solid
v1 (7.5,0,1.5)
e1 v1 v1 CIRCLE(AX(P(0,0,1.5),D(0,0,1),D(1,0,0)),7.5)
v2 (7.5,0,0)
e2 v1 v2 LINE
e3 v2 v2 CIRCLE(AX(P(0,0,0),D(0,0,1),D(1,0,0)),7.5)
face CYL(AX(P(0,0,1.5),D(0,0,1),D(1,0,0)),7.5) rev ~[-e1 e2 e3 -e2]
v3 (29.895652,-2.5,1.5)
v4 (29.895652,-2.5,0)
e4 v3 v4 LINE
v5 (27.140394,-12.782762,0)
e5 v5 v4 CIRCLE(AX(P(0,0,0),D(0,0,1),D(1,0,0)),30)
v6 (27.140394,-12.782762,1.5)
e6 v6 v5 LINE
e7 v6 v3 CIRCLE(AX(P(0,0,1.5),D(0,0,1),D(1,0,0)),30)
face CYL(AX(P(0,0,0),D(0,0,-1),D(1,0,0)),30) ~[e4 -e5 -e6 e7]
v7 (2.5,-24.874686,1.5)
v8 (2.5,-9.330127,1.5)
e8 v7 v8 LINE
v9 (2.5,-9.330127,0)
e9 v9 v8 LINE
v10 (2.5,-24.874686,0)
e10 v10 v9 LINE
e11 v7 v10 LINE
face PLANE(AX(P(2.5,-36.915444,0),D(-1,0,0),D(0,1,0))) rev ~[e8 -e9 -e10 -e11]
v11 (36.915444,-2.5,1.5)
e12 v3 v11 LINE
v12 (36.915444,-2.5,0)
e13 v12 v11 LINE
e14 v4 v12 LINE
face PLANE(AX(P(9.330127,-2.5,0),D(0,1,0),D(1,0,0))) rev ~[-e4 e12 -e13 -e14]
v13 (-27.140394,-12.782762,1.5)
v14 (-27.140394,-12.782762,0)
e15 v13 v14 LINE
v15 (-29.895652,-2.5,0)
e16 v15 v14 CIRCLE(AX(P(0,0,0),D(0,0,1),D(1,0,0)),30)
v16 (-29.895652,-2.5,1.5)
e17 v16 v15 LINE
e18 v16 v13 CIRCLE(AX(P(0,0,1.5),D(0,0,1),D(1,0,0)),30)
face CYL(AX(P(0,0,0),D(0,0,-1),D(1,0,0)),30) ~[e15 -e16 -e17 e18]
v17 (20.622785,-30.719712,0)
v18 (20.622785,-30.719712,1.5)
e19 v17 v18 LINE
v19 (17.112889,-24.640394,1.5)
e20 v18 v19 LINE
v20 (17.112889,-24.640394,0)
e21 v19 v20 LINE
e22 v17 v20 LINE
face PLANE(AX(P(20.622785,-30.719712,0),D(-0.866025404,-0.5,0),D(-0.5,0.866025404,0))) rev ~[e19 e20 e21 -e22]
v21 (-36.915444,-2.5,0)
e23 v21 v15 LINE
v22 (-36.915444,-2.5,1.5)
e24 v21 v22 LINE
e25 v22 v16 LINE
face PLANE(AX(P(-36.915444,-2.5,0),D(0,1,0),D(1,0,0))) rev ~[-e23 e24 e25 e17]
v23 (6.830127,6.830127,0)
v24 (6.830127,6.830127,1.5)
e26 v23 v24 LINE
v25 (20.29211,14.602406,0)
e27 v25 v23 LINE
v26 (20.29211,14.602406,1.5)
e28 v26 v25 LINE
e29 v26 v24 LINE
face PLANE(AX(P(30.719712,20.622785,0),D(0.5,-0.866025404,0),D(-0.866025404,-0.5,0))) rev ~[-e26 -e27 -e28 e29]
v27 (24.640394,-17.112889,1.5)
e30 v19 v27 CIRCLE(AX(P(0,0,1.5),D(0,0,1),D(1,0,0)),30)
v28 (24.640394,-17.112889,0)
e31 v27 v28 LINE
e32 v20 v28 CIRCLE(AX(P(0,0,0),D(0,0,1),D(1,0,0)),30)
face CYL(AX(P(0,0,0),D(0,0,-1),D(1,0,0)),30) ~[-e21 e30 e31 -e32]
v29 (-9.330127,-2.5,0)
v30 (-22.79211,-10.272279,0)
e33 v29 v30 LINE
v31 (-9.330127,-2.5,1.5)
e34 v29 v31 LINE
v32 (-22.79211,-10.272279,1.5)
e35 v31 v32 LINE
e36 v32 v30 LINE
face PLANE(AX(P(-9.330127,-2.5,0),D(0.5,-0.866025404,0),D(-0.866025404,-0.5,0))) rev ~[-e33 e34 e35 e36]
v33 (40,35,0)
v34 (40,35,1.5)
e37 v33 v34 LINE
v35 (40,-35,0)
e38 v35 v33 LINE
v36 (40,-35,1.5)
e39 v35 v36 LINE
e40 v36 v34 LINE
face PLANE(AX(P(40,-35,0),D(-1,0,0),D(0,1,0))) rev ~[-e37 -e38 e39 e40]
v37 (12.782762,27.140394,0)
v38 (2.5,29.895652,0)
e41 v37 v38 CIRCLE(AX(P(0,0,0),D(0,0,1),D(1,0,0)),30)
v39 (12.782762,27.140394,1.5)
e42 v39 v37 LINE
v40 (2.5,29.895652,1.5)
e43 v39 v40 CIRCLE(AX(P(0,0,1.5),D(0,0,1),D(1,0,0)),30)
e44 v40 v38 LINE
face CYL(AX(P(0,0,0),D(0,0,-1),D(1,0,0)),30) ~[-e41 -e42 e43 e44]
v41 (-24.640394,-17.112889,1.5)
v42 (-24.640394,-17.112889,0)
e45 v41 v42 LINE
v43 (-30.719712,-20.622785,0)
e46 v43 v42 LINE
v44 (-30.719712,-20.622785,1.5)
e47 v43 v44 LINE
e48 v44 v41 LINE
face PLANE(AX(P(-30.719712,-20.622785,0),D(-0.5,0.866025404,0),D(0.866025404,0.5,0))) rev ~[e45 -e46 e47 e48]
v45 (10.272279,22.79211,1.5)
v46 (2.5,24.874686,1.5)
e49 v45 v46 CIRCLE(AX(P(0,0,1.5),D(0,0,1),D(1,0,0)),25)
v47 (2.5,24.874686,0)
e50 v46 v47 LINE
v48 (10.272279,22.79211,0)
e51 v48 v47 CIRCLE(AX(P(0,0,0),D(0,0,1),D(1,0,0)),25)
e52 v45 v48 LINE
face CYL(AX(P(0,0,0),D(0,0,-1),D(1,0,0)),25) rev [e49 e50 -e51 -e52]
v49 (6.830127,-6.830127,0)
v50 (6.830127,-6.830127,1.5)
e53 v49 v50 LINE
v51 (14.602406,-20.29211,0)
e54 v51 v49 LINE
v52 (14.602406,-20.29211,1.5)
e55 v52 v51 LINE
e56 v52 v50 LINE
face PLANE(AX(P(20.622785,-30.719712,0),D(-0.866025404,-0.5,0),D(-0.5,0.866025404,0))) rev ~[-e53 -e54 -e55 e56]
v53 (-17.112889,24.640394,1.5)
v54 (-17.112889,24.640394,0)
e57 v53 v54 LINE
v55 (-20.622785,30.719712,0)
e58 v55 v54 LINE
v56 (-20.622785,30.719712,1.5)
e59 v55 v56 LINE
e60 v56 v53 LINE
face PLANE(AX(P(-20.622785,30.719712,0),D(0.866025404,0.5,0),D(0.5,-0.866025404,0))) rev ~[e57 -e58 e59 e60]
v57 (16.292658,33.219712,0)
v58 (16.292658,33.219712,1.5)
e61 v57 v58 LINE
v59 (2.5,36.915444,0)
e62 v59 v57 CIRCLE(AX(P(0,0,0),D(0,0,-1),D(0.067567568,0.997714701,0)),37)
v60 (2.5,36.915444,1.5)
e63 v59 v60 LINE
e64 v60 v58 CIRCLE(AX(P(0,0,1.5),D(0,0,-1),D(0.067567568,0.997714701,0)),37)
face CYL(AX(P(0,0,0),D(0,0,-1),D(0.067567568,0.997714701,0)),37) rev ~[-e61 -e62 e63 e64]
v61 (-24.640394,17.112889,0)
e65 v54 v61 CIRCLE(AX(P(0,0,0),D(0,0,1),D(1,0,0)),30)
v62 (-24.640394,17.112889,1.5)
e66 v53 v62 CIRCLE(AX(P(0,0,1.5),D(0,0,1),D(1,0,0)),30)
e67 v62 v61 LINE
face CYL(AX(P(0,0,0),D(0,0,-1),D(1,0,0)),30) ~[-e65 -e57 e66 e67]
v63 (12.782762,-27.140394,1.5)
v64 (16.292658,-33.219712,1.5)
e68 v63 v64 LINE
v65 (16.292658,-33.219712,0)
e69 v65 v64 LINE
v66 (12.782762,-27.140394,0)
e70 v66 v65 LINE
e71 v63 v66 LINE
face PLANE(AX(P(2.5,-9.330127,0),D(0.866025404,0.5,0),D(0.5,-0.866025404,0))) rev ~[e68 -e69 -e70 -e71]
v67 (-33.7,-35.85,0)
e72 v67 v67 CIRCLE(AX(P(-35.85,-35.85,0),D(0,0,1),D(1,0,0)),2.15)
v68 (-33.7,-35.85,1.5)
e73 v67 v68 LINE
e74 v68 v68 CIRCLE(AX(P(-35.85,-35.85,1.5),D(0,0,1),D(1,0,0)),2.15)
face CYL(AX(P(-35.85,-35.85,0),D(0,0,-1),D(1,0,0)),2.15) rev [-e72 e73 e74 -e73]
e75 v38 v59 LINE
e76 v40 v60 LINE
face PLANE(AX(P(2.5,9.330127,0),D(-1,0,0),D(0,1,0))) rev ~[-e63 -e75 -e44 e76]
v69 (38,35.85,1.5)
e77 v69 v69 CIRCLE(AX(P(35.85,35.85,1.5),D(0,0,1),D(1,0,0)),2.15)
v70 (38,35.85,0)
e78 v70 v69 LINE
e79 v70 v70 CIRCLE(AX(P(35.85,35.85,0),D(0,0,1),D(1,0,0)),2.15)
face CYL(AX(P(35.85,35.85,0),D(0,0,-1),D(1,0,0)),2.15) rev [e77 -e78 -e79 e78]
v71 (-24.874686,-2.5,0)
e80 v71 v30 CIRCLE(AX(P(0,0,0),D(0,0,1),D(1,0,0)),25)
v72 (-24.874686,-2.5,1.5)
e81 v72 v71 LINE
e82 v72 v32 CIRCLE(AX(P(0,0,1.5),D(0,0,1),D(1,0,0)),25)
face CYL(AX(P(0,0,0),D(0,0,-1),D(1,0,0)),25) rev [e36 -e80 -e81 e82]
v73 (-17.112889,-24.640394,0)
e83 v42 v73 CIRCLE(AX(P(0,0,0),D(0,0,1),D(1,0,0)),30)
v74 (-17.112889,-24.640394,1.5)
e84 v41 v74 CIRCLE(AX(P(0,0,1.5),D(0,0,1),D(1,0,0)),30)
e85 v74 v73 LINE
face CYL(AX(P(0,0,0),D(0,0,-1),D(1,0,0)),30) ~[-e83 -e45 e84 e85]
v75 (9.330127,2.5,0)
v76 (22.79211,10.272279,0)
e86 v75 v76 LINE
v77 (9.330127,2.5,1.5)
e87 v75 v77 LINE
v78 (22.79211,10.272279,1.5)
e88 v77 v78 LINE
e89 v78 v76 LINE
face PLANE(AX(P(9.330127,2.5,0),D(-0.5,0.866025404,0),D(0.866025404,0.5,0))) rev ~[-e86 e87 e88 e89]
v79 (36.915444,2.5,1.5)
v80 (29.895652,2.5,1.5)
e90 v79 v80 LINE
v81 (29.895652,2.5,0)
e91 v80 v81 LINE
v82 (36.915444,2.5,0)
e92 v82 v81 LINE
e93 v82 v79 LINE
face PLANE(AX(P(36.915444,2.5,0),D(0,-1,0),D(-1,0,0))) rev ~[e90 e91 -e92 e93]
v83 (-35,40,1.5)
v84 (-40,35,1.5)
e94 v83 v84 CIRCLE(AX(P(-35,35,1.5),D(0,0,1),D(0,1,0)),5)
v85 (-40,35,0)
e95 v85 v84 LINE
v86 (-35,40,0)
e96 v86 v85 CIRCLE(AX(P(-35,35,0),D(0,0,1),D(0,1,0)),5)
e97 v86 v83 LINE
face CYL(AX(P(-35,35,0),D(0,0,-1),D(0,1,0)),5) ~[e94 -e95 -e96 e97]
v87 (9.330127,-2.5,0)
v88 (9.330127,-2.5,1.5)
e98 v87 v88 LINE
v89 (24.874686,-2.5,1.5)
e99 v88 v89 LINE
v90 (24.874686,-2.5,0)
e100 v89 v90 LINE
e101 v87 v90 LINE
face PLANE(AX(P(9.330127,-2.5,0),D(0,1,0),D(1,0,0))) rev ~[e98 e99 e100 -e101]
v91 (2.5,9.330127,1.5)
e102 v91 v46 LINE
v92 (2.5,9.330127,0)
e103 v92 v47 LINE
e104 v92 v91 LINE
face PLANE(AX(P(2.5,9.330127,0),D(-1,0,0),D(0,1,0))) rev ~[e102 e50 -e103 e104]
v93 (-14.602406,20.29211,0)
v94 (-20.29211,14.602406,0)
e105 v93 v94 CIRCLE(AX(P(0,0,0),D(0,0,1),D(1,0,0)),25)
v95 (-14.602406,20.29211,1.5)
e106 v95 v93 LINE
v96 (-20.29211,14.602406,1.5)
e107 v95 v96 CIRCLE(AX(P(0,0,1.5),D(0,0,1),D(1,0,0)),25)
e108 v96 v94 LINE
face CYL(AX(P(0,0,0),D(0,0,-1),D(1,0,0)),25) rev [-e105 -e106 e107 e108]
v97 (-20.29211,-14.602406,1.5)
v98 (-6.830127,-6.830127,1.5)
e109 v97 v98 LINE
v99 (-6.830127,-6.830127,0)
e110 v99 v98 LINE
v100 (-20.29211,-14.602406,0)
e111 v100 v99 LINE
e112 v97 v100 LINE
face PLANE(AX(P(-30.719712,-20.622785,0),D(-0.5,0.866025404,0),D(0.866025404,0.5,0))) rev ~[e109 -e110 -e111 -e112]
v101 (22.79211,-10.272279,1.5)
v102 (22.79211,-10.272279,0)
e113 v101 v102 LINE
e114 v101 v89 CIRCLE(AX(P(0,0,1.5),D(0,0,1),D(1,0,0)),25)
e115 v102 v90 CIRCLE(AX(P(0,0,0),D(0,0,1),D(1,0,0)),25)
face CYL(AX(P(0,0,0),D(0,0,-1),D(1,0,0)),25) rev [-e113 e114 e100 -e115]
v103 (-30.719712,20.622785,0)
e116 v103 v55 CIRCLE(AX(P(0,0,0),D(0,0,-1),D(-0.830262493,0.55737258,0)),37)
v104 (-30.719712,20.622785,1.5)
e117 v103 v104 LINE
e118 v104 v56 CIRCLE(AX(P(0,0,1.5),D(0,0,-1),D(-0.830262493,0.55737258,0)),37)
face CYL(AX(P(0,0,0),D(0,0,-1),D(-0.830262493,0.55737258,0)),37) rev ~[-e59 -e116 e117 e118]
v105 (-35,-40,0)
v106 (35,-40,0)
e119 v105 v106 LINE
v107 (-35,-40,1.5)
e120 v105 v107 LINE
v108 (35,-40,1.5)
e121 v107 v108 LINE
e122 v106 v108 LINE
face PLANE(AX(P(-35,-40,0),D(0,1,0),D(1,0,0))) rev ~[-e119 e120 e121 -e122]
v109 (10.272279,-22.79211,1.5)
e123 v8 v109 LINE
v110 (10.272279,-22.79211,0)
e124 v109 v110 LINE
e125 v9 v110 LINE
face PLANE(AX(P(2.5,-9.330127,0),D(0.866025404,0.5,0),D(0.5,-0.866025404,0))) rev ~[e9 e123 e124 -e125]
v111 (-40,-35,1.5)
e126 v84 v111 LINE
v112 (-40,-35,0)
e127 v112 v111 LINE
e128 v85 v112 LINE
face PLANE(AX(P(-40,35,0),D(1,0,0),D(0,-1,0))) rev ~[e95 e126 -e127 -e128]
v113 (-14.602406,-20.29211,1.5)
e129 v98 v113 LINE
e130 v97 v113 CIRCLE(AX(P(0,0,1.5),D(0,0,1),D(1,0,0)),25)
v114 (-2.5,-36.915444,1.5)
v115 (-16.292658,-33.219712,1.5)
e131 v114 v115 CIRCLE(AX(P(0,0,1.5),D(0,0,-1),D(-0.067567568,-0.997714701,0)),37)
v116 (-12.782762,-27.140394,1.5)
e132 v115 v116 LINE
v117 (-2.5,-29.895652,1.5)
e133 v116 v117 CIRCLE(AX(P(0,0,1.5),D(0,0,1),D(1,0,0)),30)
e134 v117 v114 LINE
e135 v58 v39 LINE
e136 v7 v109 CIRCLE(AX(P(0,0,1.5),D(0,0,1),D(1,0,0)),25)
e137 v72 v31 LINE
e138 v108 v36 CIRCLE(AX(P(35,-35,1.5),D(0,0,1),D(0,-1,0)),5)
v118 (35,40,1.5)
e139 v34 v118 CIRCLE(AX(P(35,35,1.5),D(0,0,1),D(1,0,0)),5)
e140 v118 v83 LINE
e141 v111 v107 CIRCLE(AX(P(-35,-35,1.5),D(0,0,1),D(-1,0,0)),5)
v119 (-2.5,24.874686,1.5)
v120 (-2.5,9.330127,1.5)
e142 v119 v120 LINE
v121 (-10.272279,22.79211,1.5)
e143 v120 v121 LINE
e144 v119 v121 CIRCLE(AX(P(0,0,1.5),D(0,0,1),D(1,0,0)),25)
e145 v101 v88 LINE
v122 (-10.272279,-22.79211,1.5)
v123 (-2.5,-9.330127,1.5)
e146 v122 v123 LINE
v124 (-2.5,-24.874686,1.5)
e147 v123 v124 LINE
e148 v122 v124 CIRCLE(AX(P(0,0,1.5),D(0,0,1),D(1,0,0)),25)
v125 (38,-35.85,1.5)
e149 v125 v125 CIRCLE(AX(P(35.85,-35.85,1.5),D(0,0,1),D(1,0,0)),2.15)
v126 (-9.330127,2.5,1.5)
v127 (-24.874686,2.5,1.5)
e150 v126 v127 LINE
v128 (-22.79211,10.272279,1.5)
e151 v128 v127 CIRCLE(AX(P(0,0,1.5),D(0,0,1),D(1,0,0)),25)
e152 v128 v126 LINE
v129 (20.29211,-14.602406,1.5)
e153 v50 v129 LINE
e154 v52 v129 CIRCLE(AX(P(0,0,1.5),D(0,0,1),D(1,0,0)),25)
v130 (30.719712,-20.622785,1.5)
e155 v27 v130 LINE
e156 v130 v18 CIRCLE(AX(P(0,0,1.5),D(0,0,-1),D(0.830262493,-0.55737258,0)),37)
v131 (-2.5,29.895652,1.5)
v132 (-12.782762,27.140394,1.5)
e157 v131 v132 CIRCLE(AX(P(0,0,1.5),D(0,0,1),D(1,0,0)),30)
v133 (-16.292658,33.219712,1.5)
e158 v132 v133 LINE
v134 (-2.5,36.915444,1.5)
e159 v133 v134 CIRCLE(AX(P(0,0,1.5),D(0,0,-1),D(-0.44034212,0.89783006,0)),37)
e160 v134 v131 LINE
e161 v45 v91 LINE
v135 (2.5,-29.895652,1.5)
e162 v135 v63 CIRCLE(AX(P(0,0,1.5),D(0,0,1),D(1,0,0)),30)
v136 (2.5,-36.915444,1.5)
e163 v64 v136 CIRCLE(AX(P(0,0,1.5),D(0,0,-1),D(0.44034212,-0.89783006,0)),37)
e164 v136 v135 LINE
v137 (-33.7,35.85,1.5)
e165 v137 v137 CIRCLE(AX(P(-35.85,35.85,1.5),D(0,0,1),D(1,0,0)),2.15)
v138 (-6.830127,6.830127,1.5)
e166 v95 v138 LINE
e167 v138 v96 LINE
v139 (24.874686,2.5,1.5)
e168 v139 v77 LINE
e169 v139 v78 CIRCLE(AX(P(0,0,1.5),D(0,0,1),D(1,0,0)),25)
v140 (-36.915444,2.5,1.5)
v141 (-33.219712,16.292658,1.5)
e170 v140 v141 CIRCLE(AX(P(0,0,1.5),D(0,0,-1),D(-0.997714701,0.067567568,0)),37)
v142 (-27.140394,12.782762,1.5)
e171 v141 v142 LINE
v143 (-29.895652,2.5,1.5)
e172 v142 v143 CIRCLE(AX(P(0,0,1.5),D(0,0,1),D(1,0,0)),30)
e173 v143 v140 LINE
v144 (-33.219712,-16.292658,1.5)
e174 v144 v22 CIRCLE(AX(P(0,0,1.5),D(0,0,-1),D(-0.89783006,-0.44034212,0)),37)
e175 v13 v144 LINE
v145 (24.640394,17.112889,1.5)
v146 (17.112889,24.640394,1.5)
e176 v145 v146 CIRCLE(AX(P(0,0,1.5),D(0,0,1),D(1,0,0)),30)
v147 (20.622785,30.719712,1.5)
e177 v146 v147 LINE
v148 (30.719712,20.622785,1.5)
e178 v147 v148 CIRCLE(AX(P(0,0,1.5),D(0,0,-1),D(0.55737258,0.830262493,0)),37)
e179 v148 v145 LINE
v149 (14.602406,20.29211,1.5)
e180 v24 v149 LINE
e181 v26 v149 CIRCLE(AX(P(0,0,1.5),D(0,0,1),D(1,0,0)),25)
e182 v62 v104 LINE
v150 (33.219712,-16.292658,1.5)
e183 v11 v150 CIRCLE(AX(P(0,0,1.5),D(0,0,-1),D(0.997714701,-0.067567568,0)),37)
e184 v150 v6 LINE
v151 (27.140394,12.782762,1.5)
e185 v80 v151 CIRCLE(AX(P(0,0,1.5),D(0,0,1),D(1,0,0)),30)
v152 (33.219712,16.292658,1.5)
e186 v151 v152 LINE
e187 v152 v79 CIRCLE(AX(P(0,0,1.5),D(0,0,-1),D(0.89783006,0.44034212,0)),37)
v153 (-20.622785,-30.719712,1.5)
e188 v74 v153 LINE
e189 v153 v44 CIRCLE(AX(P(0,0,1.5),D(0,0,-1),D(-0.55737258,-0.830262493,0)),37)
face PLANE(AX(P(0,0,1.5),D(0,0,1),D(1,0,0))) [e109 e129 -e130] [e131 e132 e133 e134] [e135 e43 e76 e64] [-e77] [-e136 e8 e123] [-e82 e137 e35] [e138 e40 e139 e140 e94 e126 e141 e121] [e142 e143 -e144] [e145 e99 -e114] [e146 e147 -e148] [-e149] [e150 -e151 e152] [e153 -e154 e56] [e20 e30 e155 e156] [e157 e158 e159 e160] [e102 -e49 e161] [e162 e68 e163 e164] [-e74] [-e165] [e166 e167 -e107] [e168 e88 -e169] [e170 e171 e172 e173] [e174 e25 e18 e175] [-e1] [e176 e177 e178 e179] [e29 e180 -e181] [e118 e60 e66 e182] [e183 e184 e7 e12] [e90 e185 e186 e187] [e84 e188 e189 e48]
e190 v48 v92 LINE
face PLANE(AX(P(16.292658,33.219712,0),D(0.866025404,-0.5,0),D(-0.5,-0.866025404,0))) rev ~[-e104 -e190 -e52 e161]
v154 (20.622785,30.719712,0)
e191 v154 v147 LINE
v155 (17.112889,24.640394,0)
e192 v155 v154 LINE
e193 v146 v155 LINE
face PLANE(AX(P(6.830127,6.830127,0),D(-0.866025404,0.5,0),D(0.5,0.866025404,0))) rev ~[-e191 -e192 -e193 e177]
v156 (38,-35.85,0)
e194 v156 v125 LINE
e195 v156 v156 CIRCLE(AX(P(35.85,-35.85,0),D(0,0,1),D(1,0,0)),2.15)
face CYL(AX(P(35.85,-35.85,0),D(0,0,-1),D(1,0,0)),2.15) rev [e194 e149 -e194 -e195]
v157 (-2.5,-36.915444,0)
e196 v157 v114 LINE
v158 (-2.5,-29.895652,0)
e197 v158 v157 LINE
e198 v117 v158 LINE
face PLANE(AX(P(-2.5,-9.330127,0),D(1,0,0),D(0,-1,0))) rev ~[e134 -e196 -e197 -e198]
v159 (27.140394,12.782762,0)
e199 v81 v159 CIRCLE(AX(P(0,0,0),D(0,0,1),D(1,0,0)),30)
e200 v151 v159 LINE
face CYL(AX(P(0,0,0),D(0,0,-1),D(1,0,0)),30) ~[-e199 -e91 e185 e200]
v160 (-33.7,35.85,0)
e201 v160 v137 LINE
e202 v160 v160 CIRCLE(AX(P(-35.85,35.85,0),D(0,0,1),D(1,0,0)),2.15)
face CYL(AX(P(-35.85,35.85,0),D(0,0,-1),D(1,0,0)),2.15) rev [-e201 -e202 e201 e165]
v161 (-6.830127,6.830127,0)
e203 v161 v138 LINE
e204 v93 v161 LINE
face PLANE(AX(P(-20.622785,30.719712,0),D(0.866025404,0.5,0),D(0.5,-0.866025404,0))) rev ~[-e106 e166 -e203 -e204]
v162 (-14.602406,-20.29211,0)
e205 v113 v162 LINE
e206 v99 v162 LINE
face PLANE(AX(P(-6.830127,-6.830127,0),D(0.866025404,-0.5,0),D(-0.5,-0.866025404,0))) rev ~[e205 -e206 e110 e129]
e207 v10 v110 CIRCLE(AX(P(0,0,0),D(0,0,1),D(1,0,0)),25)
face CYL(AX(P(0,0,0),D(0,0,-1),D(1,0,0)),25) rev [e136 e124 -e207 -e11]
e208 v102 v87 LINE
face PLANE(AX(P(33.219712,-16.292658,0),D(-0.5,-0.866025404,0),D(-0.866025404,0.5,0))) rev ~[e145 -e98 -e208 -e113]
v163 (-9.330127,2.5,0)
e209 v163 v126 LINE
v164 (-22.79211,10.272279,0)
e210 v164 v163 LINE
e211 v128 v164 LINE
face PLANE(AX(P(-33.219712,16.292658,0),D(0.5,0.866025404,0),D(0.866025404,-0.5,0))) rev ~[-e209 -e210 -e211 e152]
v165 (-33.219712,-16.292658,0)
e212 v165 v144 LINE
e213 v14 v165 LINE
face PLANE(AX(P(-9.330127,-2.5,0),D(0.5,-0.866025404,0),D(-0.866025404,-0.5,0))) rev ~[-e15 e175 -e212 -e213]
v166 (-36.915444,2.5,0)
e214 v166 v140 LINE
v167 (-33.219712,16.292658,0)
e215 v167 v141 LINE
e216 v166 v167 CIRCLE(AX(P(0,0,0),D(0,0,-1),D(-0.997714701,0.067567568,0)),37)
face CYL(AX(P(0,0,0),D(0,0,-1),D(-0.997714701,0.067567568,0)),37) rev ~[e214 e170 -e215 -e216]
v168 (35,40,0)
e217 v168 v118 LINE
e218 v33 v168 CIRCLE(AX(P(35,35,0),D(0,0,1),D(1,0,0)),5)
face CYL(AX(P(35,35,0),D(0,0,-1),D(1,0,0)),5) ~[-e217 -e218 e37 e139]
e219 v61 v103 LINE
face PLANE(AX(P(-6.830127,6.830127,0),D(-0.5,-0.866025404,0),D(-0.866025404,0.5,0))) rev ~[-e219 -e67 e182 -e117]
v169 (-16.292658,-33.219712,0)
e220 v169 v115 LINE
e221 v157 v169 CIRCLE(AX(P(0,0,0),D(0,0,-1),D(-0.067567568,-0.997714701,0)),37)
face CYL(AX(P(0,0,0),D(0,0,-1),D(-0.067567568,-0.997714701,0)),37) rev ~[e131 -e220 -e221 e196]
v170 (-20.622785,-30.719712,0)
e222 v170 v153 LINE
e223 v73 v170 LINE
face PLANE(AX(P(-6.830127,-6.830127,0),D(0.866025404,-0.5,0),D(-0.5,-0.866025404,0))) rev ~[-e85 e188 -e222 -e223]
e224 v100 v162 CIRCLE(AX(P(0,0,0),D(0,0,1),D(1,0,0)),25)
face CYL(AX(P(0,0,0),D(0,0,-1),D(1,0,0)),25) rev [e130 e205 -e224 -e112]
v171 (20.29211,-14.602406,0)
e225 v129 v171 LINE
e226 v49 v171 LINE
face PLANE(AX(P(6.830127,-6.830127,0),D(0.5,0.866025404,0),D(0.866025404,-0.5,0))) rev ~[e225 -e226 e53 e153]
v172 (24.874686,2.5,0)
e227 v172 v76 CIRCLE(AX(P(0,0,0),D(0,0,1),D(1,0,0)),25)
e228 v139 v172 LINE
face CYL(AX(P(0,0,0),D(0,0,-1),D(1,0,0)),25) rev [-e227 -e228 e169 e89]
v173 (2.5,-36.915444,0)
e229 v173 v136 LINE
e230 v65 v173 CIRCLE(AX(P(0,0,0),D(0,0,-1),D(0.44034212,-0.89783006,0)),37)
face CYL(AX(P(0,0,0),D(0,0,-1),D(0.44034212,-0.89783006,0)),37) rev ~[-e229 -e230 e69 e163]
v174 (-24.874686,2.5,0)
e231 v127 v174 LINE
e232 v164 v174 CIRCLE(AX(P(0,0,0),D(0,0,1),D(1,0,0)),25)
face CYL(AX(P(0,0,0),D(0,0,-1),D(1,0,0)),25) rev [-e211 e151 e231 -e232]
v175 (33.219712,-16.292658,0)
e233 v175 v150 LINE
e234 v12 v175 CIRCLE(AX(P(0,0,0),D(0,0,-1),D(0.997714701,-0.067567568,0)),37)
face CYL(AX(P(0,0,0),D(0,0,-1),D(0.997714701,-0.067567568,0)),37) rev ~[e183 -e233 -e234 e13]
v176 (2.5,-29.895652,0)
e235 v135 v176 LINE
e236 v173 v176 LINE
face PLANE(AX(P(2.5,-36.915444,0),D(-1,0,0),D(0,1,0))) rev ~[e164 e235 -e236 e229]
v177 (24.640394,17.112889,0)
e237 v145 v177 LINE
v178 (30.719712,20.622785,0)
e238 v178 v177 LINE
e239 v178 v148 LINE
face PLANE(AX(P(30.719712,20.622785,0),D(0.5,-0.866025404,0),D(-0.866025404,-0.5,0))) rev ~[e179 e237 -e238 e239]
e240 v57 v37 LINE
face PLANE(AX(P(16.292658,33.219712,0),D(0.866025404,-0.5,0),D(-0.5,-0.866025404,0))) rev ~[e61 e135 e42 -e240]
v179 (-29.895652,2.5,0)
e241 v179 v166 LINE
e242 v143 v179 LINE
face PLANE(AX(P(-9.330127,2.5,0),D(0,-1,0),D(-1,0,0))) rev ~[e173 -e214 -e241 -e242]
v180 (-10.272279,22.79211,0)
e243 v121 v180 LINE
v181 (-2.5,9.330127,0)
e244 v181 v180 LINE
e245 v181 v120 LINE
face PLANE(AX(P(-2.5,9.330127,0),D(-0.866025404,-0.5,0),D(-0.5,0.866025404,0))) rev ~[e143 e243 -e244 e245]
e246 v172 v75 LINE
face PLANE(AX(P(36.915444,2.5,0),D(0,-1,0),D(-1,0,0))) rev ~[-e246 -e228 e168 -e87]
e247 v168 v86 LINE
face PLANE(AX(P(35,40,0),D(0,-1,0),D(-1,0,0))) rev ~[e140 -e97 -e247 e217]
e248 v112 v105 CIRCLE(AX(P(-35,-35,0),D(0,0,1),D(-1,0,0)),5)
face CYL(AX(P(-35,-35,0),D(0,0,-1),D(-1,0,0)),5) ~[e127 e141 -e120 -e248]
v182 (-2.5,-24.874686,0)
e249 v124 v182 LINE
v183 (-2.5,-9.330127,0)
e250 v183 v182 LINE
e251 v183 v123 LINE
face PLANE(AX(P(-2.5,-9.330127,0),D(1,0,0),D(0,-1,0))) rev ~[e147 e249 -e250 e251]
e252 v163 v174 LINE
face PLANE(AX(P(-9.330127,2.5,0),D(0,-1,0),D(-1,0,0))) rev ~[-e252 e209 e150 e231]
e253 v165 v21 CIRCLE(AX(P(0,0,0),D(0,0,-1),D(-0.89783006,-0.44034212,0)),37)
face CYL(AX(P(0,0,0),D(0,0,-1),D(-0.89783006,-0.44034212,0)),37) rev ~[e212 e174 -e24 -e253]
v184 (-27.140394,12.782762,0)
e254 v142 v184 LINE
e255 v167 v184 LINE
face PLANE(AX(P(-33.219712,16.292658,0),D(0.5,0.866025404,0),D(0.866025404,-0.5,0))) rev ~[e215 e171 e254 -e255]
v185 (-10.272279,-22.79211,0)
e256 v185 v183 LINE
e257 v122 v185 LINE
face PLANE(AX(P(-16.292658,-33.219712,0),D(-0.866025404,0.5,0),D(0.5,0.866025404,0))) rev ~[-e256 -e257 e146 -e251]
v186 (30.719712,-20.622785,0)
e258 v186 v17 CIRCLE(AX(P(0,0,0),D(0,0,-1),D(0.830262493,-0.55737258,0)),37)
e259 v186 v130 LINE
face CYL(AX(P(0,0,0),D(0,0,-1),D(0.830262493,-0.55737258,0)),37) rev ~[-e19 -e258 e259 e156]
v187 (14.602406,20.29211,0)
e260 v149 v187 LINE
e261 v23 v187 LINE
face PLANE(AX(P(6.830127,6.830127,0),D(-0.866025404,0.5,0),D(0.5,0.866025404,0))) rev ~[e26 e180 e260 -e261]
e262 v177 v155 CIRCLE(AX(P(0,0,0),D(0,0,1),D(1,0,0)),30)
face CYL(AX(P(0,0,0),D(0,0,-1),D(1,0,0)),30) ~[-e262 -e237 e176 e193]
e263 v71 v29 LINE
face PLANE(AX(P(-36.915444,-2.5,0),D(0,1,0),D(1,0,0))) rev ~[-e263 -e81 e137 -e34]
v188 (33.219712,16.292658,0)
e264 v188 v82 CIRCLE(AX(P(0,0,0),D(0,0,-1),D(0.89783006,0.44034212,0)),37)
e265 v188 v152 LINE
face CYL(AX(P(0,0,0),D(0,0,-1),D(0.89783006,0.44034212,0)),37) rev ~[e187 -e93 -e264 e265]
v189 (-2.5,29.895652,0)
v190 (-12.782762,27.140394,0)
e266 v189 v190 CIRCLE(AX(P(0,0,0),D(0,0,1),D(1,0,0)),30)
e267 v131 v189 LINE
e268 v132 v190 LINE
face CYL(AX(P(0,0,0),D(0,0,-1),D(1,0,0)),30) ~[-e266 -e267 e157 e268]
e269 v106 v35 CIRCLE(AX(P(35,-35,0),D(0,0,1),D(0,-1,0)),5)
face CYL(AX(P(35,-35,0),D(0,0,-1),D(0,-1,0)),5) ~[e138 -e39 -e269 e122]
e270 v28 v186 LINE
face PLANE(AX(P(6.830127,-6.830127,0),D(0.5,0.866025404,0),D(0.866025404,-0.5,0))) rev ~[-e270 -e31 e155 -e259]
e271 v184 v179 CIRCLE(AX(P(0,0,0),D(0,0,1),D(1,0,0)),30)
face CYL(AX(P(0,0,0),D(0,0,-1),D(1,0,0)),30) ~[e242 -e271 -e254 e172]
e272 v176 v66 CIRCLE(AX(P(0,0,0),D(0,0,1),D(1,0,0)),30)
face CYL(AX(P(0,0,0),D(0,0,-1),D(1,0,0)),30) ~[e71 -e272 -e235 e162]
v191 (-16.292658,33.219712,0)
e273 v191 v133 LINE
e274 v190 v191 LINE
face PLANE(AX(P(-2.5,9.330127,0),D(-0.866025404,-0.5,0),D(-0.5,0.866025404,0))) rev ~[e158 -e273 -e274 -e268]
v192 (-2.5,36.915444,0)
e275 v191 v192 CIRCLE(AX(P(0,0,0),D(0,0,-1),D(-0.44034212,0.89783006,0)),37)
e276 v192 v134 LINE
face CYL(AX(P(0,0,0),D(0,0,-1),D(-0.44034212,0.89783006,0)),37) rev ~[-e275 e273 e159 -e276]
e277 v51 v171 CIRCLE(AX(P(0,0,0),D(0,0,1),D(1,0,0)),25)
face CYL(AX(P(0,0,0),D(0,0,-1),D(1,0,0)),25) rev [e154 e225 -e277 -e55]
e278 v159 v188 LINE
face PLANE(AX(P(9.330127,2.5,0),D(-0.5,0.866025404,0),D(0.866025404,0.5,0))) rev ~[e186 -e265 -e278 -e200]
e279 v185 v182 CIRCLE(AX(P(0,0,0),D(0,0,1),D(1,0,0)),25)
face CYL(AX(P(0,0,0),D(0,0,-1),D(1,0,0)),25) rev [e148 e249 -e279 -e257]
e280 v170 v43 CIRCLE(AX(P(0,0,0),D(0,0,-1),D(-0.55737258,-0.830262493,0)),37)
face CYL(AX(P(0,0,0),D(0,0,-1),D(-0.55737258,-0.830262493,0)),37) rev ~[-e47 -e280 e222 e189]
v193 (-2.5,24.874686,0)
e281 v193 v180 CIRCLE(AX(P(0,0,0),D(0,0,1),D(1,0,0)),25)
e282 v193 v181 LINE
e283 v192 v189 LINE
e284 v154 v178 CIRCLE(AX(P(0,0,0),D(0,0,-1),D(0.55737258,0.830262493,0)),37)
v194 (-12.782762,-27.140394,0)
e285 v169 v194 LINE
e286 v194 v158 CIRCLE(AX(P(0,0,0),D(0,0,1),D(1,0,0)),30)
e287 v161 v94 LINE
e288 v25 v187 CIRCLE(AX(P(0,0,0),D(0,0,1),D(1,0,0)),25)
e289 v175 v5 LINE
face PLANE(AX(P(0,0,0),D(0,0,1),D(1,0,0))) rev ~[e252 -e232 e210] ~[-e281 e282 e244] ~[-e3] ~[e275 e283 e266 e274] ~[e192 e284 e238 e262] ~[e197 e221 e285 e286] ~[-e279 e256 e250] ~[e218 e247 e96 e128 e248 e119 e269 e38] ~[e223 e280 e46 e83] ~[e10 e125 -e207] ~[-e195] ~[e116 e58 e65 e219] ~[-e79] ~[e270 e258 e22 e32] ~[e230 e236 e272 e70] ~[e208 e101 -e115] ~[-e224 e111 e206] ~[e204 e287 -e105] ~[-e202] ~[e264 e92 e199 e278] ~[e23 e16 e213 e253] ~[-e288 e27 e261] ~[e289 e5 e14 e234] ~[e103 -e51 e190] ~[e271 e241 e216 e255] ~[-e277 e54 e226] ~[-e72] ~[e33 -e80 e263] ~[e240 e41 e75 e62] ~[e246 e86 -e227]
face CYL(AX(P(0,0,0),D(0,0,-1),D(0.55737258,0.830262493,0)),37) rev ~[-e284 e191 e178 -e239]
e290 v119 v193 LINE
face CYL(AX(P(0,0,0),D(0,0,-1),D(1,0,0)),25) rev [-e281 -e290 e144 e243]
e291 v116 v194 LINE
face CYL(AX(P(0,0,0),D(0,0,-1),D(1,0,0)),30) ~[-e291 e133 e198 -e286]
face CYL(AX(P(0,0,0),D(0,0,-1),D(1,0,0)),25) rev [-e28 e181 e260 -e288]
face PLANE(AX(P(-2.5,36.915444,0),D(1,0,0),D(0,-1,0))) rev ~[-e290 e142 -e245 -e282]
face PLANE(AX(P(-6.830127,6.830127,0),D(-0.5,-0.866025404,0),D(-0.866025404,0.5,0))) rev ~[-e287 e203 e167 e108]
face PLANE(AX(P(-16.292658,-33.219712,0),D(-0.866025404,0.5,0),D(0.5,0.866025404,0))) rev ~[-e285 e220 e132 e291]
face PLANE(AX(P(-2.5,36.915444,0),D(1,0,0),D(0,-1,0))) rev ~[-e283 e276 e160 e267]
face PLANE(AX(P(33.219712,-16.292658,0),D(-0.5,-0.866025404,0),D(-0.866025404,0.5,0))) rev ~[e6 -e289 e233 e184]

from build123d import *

# Parameters (mm, degrees)
F0_R     = 2.15
F2_DEPTH = 1.5
F1_R     = 30
F1_R_2   = 25
F3_DEPTH = 1.5
F4_R     = 7.5
F5_DEPTH = 25


with BuildPart() as f2:
    # F0 (on Top) → F2 (new body)
    with BuildSketch(Plane.XY):
        with BuildLine():
            ThreePointArc((40, 0), (28.2842712475, 28.2842712475), (0, 40))
            ThreePointArc((0, 40), (-28.2842712475, 28.2842712475), (-40, 0))
            ThreePointArc((-40, 0), (-28.2842712475, -28.2842712475), (0, -40))
            ThreePointArc((0, -40), (28.2842712475, -28.2842712475), (40, 0))
        make_face()
        with BuildLine():
            ThreePointArc((36.9154439226, 2.5), (36.9788549386, 1.2507147687), (37, 0))
            ThreePointArc((37, 0), (36.9788549386, -1.2507147687), (36.9154439226, -2.5))
            ThreePointArc((36.9154439226, -2.5), (35.7392555727, -9.5763046688), (33.2197122289, -16.2926584518))
            ThreePointArc((33.2197122289, -16.2926584518), (32.04293994, -18.5), (30.7197122289, -20.6227854707))
            ThreePointArc((30.7197122289, -20.6227854707), (26.1629509039, -26.1629509039), (20.6227854707, -30.7197122289))
            ThreePointArc((20.6227854707, -30.7197122289), (18.5, -32.04293994), (16.2926584518, -33.2197122289))
            ThreePointArc((16.2926584518, -33.2197122289), (9.5763046688, -35.7392555727), (2.5, -36.9154439226))
            ThreePointArc((2.5, -36.9154439226), (0, -37), (-2.5, -36.9154439226))
            ThreePointArc((-2.5, -36.9154439226), (-9.5763046688, -35.7392555727), (-16.2926584518, -33.2197122289))
            ThreePointArc((-16.2926584518, -33.2197122289), (-18.5, -32.04293994), (-20.6227854707, -30.7197122289))
            ThreePointArc((-20.6227854707, -30.7197122289), (-26.1629509039, -26.1629509039), (-30.7197122289, -20.6227854707))
            ThreePointArc((-30.7197122289, -20.6227854707), (-32.04293994, -18.5), (-33.2197122289, -16.2926584518))
            ThreePointArc((-33.2197122289, -16.2926584518), (-35.7392555727, -9.5763046688), (-36.9154439226, -2.5))
            ThreePointArc((-36.9154439226, -2.5), (-37, 0), (-36.9154439226, 2.5))
            ThreePointArc((-36.9154439226, 2.5), (-35.7392555727, 9.5763046688), (-33.2197122289, 16.2926584518))
            ThreePointArc((-33.2197122289, 16.2926584518), (-32.04293994, 18.5), (-30.7197122289, 20.6227854707))
            ThreePointArc((-30.7197122289, 20.6227854707), (-26.1629509039, 26.1629509039), (-20.6227854707, 30.7197122289))
            ThreePointArc((-20.6227854707, 30.7197122289), (-18.5, 32.04293994), (-16.2926584518, 33.2197122289))
            ThreePointArc((-16.2926584518, 33.2197122289), (-9.5763046688, 35.7392555727), (-2.5, 36.9154439226))
            ThreePointArc((-2.5, 36.9154439226), (0, 37), (2.5, 36.9154439226))
            ThreePointArc((2.5, 36.9154439226), (9.5763046688, 35.7392555727), (16.2926584518, 33.2197122289))
            ThreePointArc((16.2926584518, 33.2197122289), (18.5, 32.04293994), (20.6227854707, 30.7197122289))
            ThreePointArc((20.6227854707, 30.7197122289), (26.1629509039, 26.1629509039), (30.7197122289, 20.6227854707))
            ThreePointArc((30.7197122289, 20.6227854707), (32.04293994, 18.5), (33.2197122289, 16.2926584518))
            ThreePointArc((33.2197122289, 16.2926584518), (35.7392555727, 9.5763046688), (36.9154439226, 2.5))
        make_face(mode=Mode.SUBTRACT)
        with BuildLine():
            ThreePointArc((36.9154439226, -2.5), (36.9788549386, -1.2507147687), (37, 0))
            ThreePointArc((37, 0), (36.9788549386, 1.2507147687), (36.9154439226, 2.5))
            Line((36.9154439226, 2.5), (9.3301270189, 2.5))
            Line((9.3301270189, 2.5), (33.2197122289, 16.2926584518))
            ThreePointArc((33.2197122289, 16.2926584518), (32.04293994, 18.5), (30.7197122289, 20.6227854707))
            Line((30.7197122289, 20.6227854707), (6.8301270189, 6.8301270189))
            Line((6.8301270189, 6.8301270189), (20.6227854707, 30.7197122289))
            ThreePointArc((20.6227854707, 30.7197122289), (18.5, 32.04293994), (16.2926584518, 33.2197122289))
            Line((16.2926584518, 33.2197122289), (2.5, 9.3301270189))
            Line((2.5, 9.3301270189), (2.5, 36.9154439226))
            ThreePointArc((2.5, 36.9154439226), (0, 37), (-2.5, 36.9154439226))
            Line((-2.5, 36.9154439226), (-2.5, 9.3301270189))
            Line((-2.5, 9.3301270189), (-16.2926584518, 33.2197122289))
            ThreePointArc((-16.2926584518, 33.2197122289), (-18.5, 32.04293994), (-20.6227854707, 30.7197122289))
            Line((-20.6227854707, 30.7197122289), (-6.8301270189, 6.8301270189))
            Line((-6.8301270189, 6.8301270189), (-30.7197122289, 20.6227854707))
            ThreePointArc((-30.7197122289, 20.6227854707), (-32.04293994, 18.5), (-33.2197122289, 16.2926584518))
            Line((-33.2197122289, 16.2926584518), (-9.3301270183, 2.5))
            Line((-9.3301270183, 2.5), (-36.9154439226, 2.5))
            ThreePointArc((-36.9154439226, 2.5), (-37, 0), (-36.9154439226, -2.5))
            Line((-36.9154439226, -2.5), (-9.3301270189, -2.5))
            Line((-9.3301270189, -2.5), (-33.2197122289, -16.2926584518))
            ThreePointArc((-33.2197122289, -16.2926584518), (-32.04293994, -18.5), (-30.7197122289, -20.6227854707))
            Line((-30.7197122289, -20.6227854707), (-6.8301270191, -6.830127019))
            Line((-6.8301270191, -6.830127019), (-20.6227854707, -30.7197122289))
            ThreePointArc((-20.6227854707, -30.7197122289), (-18.5, -32.04293994), (-16.2926584518, -33.2197122289))
            Line((-16.2926584518, -33.2197122289), (-2.5, -9.3301270189))
            Line((-2.5, -9.3301270189), (-2.5, -36.9154439226))
            ThreePointArc((-2.5, -36.9154439226), (0, -37), (2.5, -36.9154439226))
            Line((2.5, -36.9154439226), (2.5, -9.3301270189))
            Line((2.5, -9.3301270189), (16.2926584518, -33.2197122289))
            ThreePointArc((16.2926584518, -33.2197122289), (18.5, -32.04293994), (20.6227854707, -30.7197122289))
            Line((20.6227854707, -30.7197122289), (6.8301270189, -6.8301270189))
            Line((6.8301270189, -6.8301270189), (30.7197122289, -20.6227854707))
            ThreePointArc((30.7197122289, -20.6227854707), (32.04293994, -18.5), (33.2197122289, -16.2926584518))
            Line((33.2197122289, -16.2926584518), (9.3301270189, -2.5))
            Line((9.3301270189, -2.5), (36.9154439226, -2.5))
        make_face()
        with BuildLine():
            Line((0, 40), (-35, 40))
            ThreePointArc((-35, 40), (-38.5355339059, 38.5355339059), (-40, 35))
            Line((-40, 35), (-40, 0))
            ThreePointArc((-40, 0), (-28.2842712475, 28.2842712475), (0, 40))
        make_face()
        with Locations((-35.85, 35.85)):
            Circle(F0_R, mode=Mode.SUBTRACT)
        with BuildLine():
            ThreePointArc((0, -40), (-28.2842712475, -28.2842712475), (-40, 0))
            Line((-40, 0), (-40, -35))
            ThreePointArc((-40, -35), (-38.5355339059, -38.5355339059), (-35, -40))
            Line((-35, -40), (0, -40))
        make_face()
        with Locations((-35.85, -35.85)):
            Circle(F0_R, mode=Mode.SUBTRACT)
        with BuildLine():
            Line((35, 40), (0, 40))
            ThreePointArc((0, 40), (28.2842712475, 28.2842712475), (40, 0))
            Line((40, 0), (40, 35))
            ThreePointArc((40, 35), (38.5355339059, 38.5355339059), (35, 40))
        make_face()
        with Locations((35.85, 35.85)):
            Circle(F0_R, mode=Mode.SUBTRACT)
        with BuildLine():
            Line((40, -35), (40, 0))
            ThreePointArc((40, 0), (28.2842712475, -28.2842712475), (0, -40))
            Line((0, -40), (35, -40))
            ThreePointArc((35, -40), (38.5355339059, -38.5355339059), (40, -35))
        make_face()
        with Locations((35.85, -35.85)):
            Circle(F0_R, mode=Mode.SUBTRACT)
    extrude(amount=F2_DEPTH)

    # F1 (on Top) → F3 (join)
    with BuildSketch(Plane.XY):
        Circle(F1_R)
        Circle(F1_R_2, mode=Mode.SUBTRACT)
    extrude(amount=F3_DEPTH)

    # F4 (on face) → F5 (cut)
    with BuildSketch(Plane.XY.offset(1.5)):
        Circle(F4_R)
    extrude(amount=-F5_DEPTH, mode=Mode.SUBTRACT)


solid = f2.part
